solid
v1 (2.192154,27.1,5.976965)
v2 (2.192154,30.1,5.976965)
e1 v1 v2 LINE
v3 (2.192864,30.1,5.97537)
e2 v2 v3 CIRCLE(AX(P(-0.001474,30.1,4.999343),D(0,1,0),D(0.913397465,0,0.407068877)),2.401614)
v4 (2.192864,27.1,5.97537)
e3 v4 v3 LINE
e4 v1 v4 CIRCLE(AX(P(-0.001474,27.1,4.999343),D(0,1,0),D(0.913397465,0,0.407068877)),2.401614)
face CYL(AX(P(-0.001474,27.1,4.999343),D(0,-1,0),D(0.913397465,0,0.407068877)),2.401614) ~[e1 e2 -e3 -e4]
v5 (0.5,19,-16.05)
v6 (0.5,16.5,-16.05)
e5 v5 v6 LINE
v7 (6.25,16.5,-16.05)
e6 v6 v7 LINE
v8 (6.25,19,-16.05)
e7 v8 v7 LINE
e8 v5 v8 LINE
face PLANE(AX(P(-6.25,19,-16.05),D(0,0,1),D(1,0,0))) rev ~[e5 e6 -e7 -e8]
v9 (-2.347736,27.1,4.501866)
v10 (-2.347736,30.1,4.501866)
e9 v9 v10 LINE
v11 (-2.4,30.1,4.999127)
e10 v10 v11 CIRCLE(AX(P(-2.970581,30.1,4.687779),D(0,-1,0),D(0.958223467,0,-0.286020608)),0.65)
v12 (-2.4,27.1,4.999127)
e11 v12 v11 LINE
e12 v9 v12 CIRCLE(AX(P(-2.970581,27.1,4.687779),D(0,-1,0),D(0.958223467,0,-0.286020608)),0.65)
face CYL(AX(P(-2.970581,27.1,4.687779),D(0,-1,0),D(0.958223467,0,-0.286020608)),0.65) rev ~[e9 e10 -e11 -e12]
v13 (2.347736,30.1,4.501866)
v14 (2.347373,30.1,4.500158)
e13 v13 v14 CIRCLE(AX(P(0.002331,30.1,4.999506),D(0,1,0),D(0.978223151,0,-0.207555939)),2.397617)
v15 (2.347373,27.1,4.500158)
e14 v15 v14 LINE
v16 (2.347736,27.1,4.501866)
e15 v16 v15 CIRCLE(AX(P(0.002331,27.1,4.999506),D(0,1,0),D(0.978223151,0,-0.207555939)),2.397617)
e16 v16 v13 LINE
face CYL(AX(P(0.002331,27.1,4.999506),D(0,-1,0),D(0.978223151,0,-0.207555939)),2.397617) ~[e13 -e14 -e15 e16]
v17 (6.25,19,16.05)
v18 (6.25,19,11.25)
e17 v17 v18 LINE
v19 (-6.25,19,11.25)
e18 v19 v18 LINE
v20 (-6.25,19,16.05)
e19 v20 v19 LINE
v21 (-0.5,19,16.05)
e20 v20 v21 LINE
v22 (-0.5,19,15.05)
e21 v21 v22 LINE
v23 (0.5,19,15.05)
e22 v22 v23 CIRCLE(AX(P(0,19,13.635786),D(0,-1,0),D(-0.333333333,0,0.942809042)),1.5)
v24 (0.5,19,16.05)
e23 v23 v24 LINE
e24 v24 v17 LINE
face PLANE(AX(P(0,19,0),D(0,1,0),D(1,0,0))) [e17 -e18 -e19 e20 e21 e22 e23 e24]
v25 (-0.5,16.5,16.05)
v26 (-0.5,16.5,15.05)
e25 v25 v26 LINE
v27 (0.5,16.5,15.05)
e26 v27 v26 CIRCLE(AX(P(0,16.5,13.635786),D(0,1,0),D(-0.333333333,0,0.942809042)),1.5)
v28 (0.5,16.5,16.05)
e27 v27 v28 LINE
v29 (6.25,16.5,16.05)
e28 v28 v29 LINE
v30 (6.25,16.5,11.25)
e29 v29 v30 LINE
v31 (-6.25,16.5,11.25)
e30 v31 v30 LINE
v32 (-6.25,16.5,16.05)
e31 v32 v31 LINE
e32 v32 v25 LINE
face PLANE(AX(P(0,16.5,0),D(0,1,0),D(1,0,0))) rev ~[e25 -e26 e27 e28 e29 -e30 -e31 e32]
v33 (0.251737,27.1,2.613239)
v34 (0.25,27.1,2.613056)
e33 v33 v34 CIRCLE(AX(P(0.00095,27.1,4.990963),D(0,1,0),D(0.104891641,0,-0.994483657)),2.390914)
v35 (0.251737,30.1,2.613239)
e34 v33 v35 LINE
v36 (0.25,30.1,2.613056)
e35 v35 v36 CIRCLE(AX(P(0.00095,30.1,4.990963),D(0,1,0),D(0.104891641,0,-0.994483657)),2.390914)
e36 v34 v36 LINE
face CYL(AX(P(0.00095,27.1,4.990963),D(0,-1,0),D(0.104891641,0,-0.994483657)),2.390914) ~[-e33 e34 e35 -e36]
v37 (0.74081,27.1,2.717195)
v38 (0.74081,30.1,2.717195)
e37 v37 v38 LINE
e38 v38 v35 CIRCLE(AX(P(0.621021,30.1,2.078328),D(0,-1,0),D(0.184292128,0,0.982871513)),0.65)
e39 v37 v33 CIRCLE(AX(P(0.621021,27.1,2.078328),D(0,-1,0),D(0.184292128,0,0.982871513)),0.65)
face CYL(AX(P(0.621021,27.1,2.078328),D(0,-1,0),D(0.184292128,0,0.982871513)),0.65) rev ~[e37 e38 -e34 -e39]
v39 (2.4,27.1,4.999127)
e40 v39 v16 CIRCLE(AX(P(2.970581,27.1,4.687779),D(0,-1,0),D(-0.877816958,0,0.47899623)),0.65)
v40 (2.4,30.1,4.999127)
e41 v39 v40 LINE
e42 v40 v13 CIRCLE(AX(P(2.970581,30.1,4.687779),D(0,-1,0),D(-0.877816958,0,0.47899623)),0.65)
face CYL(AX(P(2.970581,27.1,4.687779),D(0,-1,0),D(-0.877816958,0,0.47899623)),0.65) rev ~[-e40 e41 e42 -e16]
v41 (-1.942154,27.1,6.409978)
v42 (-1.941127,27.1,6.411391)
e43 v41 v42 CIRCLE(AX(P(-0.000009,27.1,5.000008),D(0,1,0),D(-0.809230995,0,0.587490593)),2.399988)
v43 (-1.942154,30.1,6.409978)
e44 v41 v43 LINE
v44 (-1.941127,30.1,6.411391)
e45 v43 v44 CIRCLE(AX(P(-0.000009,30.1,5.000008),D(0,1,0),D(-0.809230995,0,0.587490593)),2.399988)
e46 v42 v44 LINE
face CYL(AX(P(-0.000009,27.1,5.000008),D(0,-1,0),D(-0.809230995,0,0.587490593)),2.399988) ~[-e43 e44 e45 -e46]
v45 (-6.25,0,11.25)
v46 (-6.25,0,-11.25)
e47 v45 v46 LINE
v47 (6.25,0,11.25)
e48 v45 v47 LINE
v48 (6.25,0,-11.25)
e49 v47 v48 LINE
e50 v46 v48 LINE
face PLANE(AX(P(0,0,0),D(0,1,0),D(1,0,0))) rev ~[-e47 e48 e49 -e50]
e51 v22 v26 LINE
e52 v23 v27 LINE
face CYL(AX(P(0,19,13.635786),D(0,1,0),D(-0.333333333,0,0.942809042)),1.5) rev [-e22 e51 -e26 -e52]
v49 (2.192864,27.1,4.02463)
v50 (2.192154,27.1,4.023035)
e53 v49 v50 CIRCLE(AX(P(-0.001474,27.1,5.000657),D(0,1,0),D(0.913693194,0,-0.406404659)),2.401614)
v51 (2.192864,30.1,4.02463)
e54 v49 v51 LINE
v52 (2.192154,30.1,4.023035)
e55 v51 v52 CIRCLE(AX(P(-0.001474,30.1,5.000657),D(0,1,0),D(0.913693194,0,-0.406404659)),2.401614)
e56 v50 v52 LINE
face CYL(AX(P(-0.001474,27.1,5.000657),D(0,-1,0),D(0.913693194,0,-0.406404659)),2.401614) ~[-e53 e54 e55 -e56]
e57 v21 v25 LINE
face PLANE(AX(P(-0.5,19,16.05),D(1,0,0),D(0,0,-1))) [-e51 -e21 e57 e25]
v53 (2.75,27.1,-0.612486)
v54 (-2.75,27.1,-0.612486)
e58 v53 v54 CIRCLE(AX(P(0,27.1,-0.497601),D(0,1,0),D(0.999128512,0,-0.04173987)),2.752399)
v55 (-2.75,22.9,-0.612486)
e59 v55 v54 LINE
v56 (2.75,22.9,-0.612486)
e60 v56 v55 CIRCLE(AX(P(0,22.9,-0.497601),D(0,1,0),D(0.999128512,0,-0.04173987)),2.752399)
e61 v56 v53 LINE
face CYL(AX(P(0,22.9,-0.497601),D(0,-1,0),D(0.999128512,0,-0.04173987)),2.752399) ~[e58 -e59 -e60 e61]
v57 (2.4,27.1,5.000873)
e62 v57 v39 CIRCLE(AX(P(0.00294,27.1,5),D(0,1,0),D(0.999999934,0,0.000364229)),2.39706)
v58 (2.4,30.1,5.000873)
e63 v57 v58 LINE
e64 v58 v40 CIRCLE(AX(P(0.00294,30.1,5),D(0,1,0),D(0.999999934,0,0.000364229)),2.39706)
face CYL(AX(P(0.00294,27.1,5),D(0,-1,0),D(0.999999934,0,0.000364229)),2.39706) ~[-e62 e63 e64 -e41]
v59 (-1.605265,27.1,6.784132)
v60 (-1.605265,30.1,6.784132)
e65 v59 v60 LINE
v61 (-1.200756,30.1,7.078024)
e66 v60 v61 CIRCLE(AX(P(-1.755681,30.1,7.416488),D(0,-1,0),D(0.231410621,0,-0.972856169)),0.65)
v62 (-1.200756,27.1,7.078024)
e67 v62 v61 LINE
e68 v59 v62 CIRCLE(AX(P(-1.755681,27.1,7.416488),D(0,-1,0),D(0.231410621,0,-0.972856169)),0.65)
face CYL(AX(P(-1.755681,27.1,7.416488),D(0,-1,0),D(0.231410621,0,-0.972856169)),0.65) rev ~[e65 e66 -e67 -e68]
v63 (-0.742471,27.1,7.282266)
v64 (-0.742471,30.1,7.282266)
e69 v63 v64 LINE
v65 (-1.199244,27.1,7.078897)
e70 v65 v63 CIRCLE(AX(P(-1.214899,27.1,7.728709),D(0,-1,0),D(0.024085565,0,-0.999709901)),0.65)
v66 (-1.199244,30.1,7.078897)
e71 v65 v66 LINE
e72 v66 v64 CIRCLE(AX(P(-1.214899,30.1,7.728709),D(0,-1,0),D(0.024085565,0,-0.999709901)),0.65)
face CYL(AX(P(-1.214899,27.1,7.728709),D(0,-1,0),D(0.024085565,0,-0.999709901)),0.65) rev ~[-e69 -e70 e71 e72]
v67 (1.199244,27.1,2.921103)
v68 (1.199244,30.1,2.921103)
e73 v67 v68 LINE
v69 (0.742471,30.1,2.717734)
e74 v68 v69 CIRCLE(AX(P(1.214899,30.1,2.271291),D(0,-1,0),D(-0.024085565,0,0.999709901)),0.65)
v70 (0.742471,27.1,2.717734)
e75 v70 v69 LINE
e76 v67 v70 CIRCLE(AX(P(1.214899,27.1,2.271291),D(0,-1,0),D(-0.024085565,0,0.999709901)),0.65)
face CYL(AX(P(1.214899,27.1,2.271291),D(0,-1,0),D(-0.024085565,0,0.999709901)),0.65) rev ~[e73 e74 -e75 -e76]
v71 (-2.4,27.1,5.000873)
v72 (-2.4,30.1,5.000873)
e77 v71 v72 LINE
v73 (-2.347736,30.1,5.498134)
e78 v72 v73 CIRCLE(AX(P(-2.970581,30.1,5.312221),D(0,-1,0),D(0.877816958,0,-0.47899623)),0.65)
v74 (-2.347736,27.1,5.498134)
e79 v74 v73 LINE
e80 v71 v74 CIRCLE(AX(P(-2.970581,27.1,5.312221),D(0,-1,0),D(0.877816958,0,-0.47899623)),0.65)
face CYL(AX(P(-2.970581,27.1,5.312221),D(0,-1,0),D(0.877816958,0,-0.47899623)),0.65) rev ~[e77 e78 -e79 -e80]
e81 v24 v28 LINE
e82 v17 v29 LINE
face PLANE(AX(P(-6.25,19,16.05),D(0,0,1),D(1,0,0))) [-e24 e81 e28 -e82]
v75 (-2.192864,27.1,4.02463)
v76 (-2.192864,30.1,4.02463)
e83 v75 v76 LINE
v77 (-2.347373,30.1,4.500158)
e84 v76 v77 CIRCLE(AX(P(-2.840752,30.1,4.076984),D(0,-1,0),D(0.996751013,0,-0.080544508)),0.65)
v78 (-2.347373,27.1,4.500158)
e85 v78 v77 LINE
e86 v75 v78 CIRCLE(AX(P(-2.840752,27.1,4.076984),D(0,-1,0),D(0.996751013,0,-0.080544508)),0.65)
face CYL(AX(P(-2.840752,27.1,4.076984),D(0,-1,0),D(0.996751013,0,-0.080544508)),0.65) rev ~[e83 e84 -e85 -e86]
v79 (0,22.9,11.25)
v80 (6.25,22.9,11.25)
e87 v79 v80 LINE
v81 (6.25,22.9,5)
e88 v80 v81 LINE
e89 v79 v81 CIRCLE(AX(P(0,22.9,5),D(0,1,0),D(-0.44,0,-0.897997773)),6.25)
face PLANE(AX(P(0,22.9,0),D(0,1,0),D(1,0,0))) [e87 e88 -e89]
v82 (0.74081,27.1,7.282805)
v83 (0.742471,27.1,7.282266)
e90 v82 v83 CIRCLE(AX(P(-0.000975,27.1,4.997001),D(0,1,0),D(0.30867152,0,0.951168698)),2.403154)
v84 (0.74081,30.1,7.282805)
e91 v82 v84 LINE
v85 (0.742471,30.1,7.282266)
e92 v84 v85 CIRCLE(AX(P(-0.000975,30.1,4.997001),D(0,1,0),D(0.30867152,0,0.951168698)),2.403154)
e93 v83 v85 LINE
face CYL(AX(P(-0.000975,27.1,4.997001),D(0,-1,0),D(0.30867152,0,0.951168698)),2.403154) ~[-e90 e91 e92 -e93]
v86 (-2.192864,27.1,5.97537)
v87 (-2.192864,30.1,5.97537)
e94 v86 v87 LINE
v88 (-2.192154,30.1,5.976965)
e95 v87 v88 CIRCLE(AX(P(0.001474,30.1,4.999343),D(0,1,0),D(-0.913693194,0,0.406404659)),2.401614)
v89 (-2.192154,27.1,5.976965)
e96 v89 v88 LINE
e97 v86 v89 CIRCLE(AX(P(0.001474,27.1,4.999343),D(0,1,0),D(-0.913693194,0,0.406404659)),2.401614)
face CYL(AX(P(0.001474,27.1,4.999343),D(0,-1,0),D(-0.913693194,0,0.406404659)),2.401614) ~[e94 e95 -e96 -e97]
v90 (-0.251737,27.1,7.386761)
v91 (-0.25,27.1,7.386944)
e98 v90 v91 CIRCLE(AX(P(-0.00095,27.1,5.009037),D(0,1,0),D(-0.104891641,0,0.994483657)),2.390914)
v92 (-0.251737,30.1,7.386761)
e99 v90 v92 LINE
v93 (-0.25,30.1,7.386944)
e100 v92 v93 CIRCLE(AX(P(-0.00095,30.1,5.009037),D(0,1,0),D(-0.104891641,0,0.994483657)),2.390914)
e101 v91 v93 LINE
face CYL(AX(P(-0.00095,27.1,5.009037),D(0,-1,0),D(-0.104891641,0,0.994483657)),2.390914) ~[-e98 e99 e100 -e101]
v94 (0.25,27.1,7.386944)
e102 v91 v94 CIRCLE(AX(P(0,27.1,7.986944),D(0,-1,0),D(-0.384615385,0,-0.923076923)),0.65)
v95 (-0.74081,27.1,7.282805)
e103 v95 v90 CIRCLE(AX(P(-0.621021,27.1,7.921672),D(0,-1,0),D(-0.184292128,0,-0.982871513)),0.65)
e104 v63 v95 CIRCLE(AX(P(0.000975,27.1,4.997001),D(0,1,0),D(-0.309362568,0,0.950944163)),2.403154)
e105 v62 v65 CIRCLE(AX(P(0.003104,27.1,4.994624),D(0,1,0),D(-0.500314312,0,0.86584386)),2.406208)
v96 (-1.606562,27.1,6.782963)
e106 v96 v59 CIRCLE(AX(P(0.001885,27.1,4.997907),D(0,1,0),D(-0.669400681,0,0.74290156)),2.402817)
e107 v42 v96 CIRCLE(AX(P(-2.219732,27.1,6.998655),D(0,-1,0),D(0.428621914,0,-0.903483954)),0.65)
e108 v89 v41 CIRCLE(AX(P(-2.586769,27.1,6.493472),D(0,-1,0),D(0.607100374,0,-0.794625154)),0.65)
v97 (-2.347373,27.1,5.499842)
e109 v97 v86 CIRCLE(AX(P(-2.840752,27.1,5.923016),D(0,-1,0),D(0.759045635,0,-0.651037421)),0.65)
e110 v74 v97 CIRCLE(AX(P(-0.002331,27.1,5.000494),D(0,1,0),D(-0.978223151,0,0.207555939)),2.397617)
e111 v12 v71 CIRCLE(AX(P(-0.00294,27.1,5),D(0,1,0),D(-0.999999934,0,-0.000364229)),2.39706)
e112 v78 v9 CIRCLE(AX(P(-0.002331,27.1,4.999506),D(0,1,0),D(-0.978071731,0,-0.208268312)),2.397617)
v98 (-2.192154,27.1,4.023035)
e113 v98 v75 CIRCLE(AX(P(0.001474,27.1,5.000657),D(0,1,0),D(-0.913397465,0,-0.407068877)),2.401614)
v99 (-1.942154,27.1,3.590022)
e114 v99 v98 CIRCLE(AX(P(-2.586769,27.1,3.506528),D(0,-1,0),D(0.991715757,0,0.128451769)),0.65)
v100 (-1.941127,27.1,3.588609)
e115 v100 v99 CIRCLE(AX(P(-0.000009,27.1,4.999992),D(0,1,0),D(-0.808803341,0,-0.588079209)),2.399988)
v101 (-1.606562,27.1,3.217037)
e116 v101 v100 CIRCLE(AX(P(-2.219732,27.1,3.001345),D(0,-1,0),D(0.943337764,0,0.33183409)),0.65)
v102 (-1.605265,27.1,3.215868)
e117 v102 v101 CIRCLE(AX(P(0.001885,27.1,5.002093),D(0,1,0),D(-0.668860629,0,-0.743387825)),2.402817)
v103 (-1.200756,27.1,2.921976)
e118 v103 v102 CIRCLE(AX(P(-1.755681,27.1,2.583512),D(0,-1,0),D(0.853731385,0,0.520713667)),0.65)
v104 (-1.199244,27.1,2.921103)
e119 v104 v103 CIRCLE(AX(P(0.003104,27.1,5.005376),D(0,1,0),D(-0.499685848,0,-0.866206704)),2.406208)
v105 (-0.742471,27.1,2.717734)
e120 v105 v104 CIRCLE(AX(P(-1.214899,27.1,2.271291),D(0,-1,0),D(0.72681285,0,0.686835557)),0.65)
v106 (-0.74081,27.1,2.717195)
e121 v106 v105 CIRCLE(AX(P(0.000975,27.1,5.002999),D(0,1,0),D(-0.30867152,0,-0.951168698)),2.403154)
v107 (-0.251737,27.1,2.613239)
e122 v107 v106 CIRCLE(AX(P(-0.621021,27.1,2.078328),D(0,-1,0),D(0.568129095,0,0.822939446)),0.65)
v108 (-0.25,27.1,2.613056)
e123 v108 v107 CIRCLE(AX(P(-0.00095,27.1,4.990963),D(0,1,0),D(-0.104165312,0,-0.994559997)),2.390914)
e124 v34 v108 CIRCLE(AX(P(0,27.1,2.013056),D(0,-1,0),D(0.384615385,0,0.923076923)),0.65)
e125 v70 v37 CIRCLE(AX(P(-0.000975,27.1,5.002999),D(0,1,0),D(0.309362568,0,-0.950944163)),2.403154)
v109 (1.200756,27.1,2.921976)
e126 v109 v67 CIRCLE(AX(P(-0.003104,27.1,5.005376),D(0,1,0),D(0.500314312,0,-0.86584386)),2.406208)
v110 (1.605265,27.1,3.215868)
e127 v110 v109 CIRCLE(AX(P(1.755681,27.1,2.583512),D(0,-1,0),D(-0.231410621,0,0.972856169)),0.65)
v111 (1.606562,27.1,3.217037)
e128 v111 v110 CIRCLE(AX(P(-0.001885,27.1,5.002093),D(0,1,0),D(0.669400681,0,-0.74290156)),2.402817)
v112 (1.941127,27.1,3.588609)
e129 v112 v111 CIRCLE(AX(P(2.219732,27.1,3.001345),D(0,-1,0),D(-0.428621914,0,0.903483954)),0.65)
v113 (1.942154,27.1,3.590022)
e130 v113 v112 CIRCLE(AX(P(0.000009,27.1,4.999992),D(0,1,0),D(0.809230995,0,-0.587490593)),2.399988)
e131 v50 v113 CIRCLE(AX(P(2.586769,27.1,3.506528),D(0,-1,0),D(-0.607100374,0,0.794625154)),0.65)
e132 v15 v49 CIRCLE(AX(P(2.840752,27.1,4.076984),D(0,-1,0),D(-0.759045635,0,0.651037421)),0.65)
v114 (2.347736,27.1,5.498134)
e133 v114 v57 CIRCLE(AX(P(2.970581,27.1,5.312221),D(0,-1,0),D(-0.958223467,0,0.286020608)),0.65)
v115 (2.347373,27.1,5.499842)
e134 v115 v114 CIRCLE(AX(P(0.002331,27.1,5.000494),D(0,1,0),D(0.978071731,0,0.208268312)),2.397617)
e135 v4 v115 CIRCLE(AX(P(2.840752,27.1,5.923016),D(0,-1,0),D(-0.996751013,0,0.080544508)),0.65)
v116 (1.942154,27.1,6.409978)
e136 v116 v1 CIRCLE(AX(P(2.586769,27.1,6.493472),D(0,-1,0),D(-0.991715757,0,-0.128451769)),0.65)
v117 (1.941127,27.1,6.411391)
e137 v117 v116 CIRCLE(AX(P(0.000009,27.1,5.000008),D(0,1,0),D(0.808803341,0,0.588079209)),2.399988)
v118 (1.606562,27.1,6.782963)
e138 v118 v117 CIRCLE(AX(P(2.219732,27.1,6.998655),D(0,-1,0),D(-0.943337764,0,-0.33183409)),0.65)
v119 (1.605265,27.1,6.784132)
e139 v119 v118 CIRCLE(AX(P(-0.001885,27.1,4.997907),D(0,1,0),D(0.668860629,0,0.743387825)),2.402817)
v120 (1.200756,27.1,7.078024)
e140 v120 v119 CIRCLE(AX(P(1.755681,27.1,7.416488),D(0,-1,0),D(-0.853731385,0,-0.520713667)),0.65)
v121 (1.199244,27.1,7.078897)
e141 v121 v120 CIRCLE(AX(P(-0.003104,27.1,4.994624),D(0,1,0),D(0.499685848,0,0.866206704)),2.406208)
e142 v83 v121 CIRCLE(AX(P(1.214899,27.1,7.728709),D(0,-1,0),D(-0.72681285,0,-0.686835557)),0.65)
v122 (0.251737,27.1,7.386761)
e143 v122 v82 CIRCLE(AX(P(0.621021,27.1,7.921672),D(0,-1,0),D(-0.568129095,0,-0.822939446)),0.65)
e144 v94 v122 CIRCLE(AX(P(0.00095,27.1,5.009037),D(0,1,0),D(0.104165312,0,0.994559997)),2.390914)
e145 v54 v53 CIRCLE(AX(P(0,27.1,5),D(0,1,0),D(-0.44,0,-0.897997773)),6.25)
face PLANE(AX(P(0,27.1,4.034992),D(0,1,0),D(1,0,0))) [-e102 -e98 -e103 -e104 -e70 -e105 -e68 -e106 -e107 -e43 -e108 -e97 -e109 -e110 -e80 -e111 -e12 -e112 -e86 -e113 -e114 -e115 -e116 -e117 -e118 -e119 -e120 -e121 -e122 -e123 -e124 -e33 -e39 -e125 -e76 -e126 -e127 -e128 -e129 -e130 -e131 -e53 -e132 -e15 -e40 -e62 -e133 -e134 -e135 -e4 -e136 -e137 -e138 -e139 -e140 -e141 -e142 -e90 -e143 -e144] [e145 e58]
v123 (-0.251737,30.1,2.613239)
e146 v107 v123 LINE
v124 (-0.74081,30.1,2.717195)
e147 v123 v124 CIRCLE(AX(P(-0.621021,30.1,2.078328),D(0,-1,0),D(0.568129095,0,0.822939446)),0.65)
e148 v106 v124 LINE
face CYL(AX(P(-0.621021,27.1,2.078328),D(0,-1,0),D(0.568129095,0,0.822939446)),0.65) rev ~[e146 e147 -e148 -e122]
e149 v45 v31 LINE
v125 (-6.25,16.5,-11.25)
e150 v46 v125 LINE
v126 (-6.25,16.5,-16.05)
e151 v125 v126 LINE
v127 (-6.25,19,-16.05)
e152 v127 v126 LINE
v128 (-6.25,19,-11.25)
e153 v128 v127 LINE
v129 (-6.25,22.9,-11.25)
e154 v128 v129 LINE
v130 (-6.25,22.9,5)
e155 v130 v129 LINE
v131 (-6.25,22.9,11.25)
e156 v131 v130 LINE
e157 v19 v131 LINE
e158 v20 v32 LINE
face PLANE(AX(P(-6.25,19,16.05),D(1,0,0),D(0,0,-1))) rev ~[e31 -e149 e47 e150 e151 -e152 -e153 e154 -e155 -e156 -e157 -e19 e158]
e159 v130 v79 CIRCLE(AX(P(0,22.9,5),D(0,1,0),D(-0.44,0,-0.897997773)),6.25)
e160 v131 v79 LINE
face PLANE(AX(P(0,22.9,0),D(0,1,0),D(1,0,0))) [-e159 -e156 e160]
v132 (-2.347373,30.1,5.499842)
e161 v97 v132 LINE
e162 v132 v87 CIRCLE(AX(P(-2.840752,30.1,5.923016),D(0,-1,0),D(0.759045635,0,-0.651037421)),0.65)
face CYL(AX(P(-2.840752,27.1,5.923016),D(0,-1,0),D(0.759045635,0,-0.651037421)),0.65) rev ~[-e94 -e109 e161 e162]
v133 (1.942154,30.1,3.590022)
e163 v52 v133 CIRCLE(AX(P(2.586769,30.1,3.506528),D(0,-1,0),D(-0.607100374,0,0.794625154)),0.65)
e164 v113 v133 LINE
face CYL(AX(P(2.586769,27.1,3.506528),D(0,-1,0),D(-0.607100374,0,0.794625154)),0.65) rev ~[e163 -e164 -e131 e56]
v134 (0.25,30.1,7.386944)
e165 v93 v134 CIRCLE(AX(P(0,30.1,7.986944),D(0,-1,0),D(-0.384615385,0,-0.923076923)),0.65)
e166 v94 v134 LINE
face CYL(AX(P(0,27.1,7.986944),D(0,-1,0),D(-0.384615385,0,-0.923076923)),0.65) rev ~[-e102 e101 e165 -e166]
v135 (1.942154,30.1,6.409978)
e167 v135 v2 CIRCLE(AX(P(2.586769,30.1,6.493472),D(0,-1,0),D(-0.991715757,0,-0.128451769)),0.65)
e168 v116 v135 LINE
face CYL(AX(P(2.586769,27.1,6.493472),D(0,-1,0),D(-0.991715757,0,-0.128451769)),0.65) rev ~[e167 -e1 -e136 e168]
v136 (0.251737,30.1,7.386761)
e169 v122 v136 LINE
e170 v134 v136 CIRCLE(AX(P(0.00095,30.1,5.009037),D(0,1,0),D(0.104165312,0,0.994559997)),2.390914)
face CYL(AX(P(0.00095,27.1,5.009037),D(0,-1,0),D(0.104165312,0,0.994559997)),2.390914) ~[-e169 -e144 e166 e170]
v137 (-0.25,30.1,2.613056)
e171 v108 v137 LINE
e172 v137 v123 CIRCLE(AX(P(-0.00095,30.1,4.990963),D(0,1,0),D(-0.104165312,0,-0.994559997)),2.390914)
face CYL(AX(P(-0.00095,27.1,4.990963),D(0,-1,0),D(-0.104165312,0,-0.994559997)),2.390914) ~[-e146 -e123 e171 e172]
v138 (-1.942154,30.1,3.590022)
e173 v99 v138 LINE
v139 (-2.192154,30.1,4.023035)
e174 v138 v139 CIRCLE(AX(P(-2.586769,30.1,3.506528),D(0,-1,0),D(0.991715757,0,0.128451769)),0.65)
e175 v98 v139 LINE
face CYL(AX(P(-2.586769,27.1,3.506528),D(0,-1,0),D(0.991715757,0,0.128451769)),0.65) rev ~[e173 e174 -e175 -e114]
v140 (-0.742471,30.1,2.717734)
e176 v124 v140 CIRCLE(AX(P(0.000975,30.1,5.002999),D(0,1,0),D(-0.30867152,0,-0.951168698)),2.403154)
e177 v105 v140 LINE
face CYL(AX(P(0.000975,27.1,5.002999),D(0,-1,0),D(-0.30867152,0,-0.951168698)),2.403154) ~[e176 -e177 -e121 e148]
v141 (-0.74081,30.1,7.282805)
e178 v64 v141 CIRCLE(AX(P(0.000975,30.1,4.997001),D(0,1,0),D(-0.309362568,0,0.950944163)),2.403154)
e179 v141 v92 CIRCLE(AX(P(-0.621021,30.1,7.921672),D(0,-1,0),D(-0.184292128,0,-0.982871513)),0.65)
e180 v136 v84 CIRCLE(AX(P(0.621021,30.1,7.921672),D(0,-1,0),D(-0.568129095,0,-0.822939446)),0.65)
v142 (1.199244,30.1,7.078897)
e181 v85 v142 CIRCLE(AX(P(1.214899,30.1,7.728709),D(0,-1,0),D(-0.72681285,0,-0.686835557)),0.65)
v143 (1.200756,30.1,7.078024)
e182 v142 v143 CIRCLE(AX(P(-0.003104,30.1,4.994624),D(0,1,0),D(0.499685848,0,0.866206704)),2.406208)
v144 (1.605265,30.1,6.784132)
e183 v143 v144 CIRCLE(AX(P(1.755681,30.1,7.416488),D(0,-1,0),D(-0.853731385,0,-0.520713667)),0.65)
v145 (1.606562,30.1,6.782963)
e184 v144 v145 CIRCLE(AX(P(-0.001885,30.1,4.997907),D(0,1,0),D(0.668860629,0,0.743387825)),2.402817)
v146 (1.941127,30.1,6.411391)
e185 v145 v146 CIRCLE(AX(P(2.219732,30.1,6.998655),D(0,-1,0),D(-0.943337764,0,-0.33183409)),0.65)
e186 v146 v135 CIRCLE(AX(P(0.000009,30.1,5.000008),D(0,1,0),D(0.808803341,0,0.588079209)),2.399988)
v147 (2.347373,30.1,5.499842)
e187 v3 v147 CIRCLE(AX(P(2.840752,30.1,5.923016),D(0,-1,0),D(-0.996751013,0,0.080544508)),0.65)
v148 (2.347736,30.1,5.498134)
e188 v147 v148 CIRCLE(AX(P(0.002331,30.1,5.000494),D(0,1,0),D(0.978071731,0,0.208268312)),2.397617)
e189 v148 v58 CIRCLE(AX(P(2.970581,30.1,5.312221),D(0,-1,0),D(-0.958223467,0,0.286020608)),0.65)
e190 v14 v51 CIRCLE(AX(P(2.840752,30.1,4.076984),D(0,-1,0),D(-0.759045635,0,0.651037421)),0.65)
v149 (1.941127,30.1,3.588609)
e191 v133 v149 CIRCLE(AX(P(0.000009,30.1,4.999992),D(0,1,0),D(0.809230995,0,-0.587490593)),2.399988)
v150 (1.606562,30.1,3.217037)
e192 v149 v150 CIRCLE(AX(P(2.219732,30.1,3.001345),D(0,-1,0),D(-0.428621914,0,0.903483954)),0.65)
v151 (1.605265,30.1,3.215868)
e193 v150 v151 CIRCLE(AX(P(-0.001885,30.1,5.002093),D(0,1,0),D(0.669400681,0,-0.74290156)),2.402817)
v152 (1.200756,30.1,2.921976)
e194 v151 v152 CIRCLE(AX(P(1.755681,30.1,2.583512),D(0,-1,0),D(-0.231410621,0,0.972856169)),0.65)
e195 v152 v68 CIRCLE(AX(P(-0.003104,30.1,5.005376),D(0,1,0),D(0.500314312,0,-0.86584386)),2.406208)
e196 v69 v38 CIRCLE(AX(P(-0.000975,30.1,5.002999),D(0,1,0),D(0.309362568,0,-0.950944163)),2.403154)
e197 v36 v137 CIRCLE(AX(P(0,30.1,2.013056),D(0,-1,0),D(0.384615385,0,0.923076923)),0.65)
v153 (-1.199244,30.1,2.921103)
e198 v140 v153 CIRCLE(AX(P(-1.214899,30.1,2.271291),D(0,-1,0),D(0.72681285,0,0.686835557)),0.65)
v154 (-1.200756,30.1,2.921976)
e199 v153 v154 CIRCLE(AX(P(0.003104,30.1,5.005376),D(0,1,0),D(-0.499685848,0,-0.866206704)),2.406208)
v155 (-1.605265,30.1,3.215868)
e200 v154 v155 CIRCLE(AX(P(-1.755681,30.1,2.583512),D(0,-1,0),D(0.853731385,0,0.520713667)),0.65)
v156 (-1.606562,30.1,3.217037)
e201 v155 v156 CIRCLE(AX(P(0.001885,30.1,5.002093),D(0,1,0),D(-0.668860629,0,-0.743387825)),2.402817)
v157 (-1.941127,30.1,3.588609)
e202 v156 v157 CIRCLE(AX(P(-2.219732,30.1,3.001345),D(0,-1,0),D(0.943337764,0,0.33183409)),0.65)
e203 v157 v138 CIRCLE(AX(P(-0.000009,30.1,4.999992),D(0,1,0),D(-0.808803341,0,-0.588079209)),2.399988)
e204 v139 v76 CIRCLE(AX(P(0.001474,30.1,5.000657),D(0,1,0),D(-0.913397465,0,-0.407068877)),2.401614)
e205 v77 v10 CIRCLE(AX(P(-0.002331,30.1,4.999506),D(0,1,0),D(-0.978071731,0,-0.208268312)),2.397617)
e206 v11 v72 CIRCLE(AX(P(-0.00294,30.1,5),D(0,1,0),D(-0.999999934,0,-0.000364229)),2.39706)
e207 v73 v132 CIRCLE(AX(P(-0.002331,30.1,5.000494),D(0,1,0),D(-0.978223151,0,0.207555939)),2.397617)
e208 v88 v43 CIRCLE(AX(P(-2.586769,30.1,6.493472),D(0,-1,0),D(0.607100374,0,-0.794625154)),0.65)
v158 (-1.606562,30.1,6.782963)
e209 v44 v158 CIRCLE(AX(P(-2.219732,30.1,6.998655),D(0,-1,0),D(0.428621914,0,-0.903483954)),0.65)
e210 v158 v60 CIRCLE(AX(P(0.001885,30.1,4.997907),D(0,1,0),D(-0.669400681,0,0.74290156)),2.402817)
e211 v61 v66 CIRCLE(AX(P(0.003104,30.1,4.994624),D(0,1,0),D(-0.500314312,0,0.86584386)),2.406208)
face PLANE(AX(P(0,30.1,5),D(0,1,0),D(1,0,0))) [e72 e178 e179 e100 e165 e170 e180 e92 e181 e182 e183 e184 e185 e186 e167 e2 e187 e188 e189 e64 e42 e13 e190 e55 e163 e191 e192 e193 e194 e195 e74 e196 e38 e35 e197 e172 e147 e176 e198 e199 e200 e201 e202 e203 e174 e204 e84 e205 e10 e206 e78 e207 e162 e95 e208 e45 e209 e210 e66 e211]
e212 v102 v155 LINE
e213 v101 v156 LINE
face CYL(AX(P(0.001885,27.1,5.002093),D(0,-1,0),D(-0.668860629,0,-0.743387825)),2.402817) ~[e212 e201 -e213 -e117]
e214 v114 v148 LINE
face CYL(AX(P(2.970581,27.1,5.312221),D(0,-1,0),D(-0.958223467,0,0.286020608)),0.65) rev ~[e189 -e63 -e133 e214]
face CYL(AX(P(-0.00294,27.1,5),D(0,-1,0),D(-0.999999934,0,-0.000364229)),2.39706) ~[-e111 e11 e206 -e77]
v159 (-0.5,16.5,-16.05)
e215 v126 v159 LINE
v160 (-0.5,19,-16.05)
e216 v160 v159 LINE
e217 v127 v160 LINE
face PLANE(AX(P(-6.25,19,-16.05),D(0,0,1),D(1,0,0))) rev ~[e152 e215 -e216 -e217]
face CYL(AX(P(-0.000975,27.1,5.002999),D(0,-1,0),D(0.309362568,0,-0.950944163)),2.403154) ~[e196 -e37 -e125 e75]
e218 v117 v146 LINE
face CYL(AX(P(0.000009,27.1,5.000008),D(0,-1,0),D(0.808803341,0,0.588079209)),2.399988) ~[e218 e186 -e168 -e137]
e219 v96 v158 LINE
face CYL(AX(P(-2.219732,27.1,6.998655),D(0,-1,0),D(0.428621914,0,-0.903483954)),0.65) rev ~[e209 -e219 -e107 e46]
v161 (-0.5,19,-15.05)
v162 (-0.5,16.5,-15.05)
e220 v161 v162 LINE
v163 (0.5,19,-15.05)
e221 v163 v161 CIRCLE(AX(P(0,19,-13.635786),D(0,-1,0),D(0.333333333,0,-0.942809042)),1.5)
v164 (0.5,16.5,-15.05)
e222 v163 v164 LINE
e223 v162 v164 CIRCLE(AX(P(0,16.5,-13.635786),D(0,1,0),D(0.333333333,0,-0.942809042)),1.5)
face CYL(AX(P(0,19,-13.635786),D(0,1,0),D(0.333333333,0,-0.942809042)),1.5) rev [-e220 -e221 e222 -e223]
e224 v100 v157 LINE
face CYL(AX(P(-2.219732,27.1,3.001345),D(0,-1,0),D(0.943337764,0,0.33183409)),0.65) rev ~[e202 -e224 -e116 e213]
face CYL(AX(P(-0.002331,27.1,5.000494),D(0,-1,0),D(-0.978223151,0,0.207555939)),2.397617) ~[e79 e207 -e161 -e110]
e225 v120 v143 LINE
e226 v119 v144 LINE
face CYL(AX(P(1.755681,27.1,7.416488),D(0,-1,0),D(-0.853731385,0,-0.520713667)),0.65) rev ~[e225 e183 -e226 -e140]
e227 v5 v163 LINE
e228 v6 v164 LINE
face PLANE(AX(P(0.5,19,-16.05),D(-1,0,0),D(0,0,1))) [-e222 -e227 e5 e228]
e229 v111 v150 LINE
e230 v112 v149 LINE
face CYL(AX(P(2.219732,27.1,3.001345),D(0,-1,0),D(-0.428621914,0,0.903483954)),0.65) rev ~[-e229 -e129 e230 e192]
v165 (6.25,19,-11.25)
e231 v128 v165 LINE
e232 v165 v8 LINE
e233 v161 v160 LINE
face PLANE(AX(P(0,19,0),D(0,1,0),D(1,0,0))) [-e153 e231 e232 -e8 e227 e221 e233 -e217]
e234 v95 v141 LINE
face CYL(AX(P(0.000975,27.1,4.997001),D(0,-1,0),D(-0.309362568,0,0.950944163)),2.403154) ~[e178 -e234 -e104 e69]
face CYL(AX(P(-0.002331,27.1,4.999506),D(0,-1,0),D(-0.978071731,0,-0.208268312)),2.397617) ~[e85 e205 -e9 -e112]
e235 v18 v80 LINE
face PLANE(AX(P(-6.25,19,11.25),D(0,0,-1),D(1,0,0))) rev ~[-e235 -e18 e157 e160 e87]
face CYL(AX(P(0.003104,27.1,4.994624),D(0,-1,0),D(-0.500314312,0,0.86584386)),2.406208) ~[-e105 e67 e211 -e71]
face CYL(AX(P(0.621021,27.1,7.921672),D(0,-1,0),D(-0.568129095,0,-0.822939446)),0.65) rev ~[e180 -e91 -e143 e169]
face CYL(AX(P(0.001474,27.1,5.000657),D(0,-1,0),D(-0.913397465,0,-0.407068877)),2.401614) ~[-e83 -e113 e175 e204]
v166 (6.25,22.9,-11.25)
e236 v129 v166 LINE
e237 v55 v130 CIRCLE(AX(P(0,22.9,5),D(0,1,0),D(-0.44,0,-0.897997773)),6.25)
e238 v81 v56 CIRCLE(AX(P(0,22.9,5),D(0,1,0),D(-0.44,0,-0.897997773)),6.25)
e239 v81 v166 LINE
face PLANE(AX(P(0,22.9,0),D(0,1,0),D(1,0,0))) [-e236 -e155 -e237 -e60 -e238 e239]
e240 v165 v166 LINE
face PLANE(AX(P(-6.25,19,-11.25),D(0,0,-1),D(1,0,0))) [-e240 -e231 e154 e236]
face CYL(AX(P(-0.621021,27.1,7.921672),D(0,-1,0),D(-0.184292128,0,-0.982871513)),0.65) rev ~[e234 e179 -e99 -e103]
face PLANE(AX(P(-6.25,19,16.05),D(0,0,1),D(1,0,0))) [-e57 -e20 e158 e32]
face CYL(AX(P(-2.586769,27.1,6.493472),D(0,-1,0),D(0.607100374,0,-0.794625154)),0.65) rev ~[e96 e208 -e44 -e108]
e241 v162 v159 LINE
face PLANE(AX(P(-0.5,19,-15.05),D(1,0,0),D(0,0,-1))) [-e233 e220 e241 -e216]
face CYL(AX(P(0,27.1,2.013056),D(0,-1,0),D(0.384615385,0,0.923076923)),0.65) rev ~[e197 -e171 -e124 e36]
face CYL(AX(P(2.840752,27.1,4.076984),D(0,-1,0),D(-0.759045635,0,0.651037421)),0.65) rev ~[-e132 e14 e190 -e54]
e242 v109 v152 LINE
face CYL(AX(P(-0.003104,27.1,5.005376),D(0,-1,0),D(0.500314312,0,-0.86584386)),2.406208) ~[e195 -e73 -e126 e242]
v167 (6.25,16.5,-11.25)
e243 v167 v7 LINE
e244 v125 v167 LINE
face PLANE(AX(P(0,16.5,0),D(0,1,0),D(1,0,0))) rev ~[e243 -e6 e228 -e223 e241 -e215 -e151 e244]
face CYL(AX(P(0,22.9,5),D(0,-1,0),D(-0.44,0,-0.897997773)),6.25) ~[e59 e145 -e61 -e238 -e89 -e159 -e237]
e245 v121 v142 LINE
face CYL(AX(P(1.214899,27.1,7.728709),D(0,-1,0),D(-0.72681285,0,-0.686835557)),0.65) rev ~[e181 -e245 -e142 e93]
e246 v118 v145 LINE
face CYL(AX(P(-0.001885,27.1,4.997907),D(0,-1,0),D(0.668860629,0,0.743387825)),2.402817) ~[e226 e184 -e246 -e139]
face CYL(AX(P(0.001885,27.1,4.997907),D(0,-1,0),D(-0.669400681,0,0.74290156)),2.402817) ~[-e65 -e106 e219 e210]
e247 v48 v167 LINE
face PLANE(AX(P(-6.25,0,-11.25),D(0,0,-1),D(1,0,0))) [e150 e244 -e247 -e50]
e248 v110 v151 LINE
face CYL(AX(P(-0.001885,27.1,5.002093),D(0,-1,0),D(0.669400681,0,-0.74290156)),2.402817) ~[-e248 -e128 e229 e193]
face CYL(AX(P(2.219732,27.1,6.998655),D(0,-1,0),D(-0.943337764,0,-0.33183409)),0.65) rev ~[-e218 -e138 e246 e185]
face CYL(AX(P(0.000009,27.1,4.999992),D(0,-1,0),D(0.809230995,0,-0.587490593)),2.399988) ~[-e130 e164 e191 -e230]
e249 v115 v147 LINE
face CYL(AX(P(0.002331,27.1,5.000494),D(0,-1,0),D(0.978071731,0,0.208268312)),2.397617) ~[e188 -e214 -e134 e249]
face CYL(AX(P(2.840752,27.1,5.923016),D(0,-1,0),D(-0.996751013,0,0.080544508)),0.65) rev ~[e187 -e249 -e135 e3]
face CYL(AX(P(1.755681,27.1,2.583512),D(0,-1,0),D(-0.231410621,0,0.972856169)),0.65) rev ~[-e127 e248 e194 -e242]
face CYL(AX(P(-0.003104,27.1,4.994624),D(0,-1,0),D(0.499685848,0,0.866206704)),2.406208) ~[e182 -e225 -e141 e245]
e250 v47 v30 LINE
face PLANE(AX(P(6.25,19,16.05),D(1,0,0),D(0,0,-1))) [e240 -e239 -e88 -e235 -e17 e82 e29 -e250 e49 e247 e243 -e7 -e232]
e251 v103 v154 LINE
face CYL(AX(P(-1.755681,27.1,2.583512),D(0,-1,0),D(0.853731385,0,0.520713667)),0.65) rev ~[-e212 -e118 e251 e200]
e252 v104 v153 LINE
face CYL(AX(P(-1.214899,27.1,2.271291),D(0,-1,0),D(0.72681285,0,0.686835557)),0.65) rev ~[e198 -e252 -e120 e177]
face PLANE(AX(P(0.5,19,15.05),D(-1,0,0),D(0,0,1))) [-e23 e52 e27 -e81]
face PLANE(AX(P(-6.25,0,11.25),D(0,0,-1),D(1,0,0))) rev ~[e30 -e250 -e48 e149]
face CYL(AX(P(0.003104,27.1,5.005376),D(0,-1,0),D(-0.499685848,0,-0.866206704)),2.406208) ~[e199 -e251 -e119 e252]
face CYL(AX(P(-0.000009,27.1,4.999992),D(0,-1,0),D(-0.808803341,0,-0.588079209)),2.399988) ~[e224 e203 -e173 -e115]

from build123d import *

# Parameters (mm, degrees)
SKETCH1_W           = 12.5
SKETCH1_H           = 22.5
BOSS_EXTRUDE1_DEPTH = 19
SKETCH2_W           = 12.5
SKETCH2_H           = 32.1
BOSS_EXTRUDE2_DEPTH = 2.5
SKETCH3_W           = 12.5
SKETCH3_H           = 22.5
BOSS_EXTRUDE3_DEPTH = 3.9
BOSS_EXTRUDE4_DEPTH = 4.2
BOSS_EXTRUDE5_DEPTH = 3
CUT_EXTRUDE1_DEPTH  = 20


with BuildPart() as part:
    # Sketch1 → Boss-Extrude1 (new body)
    with BuildSketch(Plane(origin=(0, 0, 0), x_dir=(1, 0, 0), z_dir=(0, 1, 0))):
        Rectangle(SKETCH1_W, SKETCH1_H)
    extrude(amount=BOSS_EXTRUDE1_DEPTH)

    # Sketch2 → Boss-Extrude2 (add)
    with BuildSketch(Plane(origin=(0, 19, 0), x_dir=(1, 0, 0), z_dir=(0, 1, 0))):
        Rectangle(SKETCH2_W, SKETCH2_H)
    extrude(amount=-BOSS_EXTRUDE2_DEPTH)

    # Sketch3 → Boss-Extrude3 (add)
    with BuildSketch(Plane(origin=(0, 19, 0), x_dir=(1, 0, 0), z_dir=(0, 1, 0))):
        Rectangle(SKETCH3_W, SKETCH3_H)
    extrude(amount=BOSS_EXTRUDE3_DEPTH)

    # Sketch4 → Boss-Extrude4 (add)
    with BuildSketch(Plane(origin=(0, 22.9, 0), x_dir=(1, 0, 0), z_dir=(0, 1, 0))):
        with BuildLine():
            ThreePointArc((-2.75, 0.61248608), (0, -11.25), (2.75, 0.61248608))
            ThreePointArc((2.75, 0.61248608), (0, 3.25), (-2.75, 0.61248608))
        make_face()
    extrude(amount=BOSS_EXTRUDE4_DEPTH)

    # Sketch5 → Boss-Extrude5 (add)
    with BuildSketch(Plane(origin=(0, 27.1, 0), x_dir=(1, 0, 0), z_dir=(0, 1, 0))):
        with BuildLine():
            ThreePointArc((-0.25, -2.613056348), (-0.250868312, -2.613147451), (-0.25173659, -2.613238871))
            ThreePointArc((-0.25173659, -2.613238871), (-0.485877906, -2.714124173), (-0.740810391, -2.717194716))
            ThreePointArc((-0.740810391, -2.717194716), (-0.741640786, -2.717464361), (-0.742471084, -2.717734308))
            ThreePointArc((-0.742471084, -2.717734308), (-0.950520616, -2.865095742), (-1.199243813, -2.921102629))
            ThreePointArc((-1.199243813, -2.921102629), (-1.2, -2.921539031), (-1.200756028, -2.921975707))
            ThreePointArc((-1.200756028, -2.921975707), (-1.373621014, -3.10937287), (-1.605264526, -3.215868334))
            ThreePointArc((-1.605264526, -3.215868334), (-1.605913455, -3.216452419), (-1.606562172, -3.21703674))
            ThreePointArc((-1.606562172, -3.21703674), (-1.736687583, -3.436279477), (-1.941127476, -3.588609153))
            ThreePointArc((-1.941127476, -3.588609153), (-1.941640786, -3.589315394), (-1.94215384, -3.590021823))
            ThreePointArc((-1.94215384, -3.590021823), (-2.02385257, -3.831528174), (-2.19215384, -4.023034525))
            ThreePointArc((-2.19215384, -4.023034525), (-2.192509098, -4.023832057), (-2.192864066, -4.024629718))
            ThreePointArc((-2.192864066, -4.024629718), (-2.222565489, -4.277844696), (-2.347372563, -4.500157976))
            ThreePointArc((-2.347372563, -4.500157976), (-2.347554242, -4.501011942), (-2.34773561, -4.501865974))
            ThreePointArc((-2.34773561, -4.501865974), (-2.324141631, -4.755722871), (-2.399999841, -4.999126922))
            ThreePointArc((-2.399999841, -4.999126922), (-2.4, -5), (-2.399999841, -5.000873078))
            ThreePointArc((-2.399999841, -5.000873078), (-2.324141631, -5.244277129), (-2.34773561, -5.498134026))
            ThreePointArc((-2.34773561, -5.498134026), (-2.347554242, -5.498988058), (-2.347372563, -5.499842024))
            ThreePointArc((-2.347372563, -5.499842024), (-2.222565489, -5.722155304), (-2.192864066, -5.975370282))
            ThreePointArc((-2.192864066, -5.975370282), (-2.192509098, -5.976167943), (-2.19215384, -5.976965475))
            ThreePointArc((-2.19215384, -5.976965475), (-2.02385257, -6.168471826), (-1.94215384, -6.409978177))
            ThreePointArc((-1.94215384, -6.409978177), (-1.941640786, -6.410684606), (-1.941127476, -6.411390847))
            ThreePointArc((-1.941127476, -6.411390847), (-1.736687583, -6.563720523), (-1.606562172, -6.78296326))
            ThreePointArc((-1.606562172, -6.78296326), (-1.605913455, -6.783547581), (-1.605264526, -6.784131666))
            ThreePointArc((-1.605264526, -6.784131666), (-1.373621014, -6.89062713), (-1.200756028, -7.078024293))
            ThreePointArc((-1.200756028, -7.078024293), (-1.2, -7.078460969), (-1.199243813, -7.078897371))
            ThreePointArc((-1.199243813, -7.078897371), (-0.950520616, -7.134904258), (-0.742471084, -7.282265692))
            ThreePointArc((-0.742471084, -7.282265692), (-0.741640786, -7.282535639), (-0.740810391, -7.282805284))
            ThreePointArc((-0.740810391, -7.282805284), (-0.485877906, -7.285875827), (-0.25173659, -7.386761129))
            ThreePointArc((-0.25173659, -7.386761129), (-0.250868312, -7.386852549), (-0.25, -7.386943652))
            ThreePointArc((-0.25, -7.386943652), (0, -7.336943652), (0.25, -7.386943652))
            ThreePointArc((0.25, -7.386943652), (0.250868312, -7.386852549), (0.25173659, -7.386761129))
            ThreePointArc((0.25173659, -7.386761129), (0.485877906, -7.285875827), (0.740810391, -7.282805284))
            ThreePointArc((0.740810391, -7.282805284), (0.741640786, -7.282535639), (0.742471084, -7.282265692))
            ThreePointArc((0.742471084, -7.282265692), (0.950520616, -7.134904258), (1.199243813, -7.078897371))
            ThreePointArc((1.199243813, -7.078897371), (1.2, -7.078460969), (1.200756028, -7.078024293))
            ThreePointArc((1.200756028, -7.078024293), (1.373621014, -6.89062713), (1.605264526, -6.784131666))
            ThreePointArc((1.605264526, -6.784131666), (1.605913455, -6.783547581), (1.606562172, -6.78296326))
            ThreePointArc((1.606562172, -6.78296326), (1.736687583, -6.563720523), (1.941127476, -6.411390847))
            ThreePointArc((1.941127476, -6.411390847), (1.941640786, -6.410684606), (1.94215384, -6.409978177))
            ThreePointArc((1.94215384, -6.409978177), (2.02385257, -6.168471826), (2.19215384, -5.976965475))
            ThreePointArc((2.19215384, -5.976965475), (2.192509098, -5.976167943), (2.192864066, -5.975370282))
            ThreePointArc((2.192864066, -5.975370282), (2.222565489, -5.722155304), (2.347372563, -5.499842024))
            ThreePointArc((2.347372563, -5.499842024), (2.347554242, -5.498988058), (2.34773561, -5.498134026))
            ThreePointArc((2.34773561, -5.498134026), (2.324141631, -5.244277129), (2.399999841, -5.000873078))
            ThreePointArc((2.399999841, -5.000873078), (2.4, -5), (2.399999841, -4.999126922))
            ThreePointArc((2.399999841, -4.999126922), (2.324141631, -4.755722871), (2.34773561, -4.501865974))
            ThreePointArc((2.34773561, -4.501865974), (2.347554242, -4.501011942), (2.347372563, -4.500157976))
            ThreePointArc((2.347372563, -4.500157976), (2.222565489, -4.277844696), (2.192864066, -4.024629718))
            ThreePointArc((2.192864066, -4.024629718), (2.192509098, -4.023832057), (2.19215384, -4.023034525))
            ThreePointArc((2.19215384, -4.023034525), (2.02385257, -3.831528174), (1.94215384, -3.590021823))
            ThreePointArc((1.94215384, -3.590021823), (1.941640786, -3.589315394), (1.941127476, -3.588609153))
            ThreePointArc((1.941127476, -3.588609153), (1.736687583, -3.436279477), (1.606562172, -3.21703674))
            ThreePointArc((1.606562172, -3.21703674), (1.605913455, -3.216452419), (1.605264526, -3.215868334))
            ThreePointArc((1.605264526, -3.215868334), (1.373621014, -3.10937287), (1.200756028, -2.921975707))
            ThreePointArc((1.200756028, -2.921975707), (1.2, -2.921539031), (1.199243813, -2.921102629))
            ThreePointArc((1.199243813, -2.921102629), (0.950520616, -2.865095742), (0.742471084, -2.717734308))
            ThreePointArc((0.742471084, -2.717734308), (0.741640786, -2.717464361), (0.740810391, -2.717194716))
            ThreePointArc((0.740810391, -2.717194716), (0.485877906, -2.714124173), (0.25173659, -2.613238871))
            ThreePointArc((0.25173659, -2.613238871), (0.250868312, -2.613147451), (0.25, -2.613056348))
            ThreePointArc((0.25, -2.613056348), (0, -2.663056348), (-0.25, -2.613056348))
        make_face()
    extrude(amount=BOSS_EXTRUDE5_DEPTH)

    # Sketch6 → Cut-Extrude1 (cut, through all)
    with BuildSketch(Plane(origin=(0, 19, 0), x_dir=(1, 0, 0), z_dir=(0, 1, 0))):
        with BuildLine():
            Line((0.5, 16.05), (0.5, 15.05))
            ThreePointArc((0.5, 15.05), (0, 12.135786438), (-0.5, 15.05))
            Line((-0.5, 15.05), (-0.5, 16.05))
            Line((-0.5, 16.05), (0.5, 16.05))
        make_face()
        with BuildLine():
            Line((-0.5, -16.05), (-0.5, -15.05))
            ThreePointArc((-0.5, -15.05), (0, -12.135786438), (0.5, -15.05))
            Line((0.5, -15.05), (0.5, -16.05))
            Line((0.5, -16.05), (-0.5, -16.05))
        make_face()
    extrude(amount=-CUT_EXTRUDE1_DEPTH, mode=Mode.SUBTRACT)


solid = part.part
